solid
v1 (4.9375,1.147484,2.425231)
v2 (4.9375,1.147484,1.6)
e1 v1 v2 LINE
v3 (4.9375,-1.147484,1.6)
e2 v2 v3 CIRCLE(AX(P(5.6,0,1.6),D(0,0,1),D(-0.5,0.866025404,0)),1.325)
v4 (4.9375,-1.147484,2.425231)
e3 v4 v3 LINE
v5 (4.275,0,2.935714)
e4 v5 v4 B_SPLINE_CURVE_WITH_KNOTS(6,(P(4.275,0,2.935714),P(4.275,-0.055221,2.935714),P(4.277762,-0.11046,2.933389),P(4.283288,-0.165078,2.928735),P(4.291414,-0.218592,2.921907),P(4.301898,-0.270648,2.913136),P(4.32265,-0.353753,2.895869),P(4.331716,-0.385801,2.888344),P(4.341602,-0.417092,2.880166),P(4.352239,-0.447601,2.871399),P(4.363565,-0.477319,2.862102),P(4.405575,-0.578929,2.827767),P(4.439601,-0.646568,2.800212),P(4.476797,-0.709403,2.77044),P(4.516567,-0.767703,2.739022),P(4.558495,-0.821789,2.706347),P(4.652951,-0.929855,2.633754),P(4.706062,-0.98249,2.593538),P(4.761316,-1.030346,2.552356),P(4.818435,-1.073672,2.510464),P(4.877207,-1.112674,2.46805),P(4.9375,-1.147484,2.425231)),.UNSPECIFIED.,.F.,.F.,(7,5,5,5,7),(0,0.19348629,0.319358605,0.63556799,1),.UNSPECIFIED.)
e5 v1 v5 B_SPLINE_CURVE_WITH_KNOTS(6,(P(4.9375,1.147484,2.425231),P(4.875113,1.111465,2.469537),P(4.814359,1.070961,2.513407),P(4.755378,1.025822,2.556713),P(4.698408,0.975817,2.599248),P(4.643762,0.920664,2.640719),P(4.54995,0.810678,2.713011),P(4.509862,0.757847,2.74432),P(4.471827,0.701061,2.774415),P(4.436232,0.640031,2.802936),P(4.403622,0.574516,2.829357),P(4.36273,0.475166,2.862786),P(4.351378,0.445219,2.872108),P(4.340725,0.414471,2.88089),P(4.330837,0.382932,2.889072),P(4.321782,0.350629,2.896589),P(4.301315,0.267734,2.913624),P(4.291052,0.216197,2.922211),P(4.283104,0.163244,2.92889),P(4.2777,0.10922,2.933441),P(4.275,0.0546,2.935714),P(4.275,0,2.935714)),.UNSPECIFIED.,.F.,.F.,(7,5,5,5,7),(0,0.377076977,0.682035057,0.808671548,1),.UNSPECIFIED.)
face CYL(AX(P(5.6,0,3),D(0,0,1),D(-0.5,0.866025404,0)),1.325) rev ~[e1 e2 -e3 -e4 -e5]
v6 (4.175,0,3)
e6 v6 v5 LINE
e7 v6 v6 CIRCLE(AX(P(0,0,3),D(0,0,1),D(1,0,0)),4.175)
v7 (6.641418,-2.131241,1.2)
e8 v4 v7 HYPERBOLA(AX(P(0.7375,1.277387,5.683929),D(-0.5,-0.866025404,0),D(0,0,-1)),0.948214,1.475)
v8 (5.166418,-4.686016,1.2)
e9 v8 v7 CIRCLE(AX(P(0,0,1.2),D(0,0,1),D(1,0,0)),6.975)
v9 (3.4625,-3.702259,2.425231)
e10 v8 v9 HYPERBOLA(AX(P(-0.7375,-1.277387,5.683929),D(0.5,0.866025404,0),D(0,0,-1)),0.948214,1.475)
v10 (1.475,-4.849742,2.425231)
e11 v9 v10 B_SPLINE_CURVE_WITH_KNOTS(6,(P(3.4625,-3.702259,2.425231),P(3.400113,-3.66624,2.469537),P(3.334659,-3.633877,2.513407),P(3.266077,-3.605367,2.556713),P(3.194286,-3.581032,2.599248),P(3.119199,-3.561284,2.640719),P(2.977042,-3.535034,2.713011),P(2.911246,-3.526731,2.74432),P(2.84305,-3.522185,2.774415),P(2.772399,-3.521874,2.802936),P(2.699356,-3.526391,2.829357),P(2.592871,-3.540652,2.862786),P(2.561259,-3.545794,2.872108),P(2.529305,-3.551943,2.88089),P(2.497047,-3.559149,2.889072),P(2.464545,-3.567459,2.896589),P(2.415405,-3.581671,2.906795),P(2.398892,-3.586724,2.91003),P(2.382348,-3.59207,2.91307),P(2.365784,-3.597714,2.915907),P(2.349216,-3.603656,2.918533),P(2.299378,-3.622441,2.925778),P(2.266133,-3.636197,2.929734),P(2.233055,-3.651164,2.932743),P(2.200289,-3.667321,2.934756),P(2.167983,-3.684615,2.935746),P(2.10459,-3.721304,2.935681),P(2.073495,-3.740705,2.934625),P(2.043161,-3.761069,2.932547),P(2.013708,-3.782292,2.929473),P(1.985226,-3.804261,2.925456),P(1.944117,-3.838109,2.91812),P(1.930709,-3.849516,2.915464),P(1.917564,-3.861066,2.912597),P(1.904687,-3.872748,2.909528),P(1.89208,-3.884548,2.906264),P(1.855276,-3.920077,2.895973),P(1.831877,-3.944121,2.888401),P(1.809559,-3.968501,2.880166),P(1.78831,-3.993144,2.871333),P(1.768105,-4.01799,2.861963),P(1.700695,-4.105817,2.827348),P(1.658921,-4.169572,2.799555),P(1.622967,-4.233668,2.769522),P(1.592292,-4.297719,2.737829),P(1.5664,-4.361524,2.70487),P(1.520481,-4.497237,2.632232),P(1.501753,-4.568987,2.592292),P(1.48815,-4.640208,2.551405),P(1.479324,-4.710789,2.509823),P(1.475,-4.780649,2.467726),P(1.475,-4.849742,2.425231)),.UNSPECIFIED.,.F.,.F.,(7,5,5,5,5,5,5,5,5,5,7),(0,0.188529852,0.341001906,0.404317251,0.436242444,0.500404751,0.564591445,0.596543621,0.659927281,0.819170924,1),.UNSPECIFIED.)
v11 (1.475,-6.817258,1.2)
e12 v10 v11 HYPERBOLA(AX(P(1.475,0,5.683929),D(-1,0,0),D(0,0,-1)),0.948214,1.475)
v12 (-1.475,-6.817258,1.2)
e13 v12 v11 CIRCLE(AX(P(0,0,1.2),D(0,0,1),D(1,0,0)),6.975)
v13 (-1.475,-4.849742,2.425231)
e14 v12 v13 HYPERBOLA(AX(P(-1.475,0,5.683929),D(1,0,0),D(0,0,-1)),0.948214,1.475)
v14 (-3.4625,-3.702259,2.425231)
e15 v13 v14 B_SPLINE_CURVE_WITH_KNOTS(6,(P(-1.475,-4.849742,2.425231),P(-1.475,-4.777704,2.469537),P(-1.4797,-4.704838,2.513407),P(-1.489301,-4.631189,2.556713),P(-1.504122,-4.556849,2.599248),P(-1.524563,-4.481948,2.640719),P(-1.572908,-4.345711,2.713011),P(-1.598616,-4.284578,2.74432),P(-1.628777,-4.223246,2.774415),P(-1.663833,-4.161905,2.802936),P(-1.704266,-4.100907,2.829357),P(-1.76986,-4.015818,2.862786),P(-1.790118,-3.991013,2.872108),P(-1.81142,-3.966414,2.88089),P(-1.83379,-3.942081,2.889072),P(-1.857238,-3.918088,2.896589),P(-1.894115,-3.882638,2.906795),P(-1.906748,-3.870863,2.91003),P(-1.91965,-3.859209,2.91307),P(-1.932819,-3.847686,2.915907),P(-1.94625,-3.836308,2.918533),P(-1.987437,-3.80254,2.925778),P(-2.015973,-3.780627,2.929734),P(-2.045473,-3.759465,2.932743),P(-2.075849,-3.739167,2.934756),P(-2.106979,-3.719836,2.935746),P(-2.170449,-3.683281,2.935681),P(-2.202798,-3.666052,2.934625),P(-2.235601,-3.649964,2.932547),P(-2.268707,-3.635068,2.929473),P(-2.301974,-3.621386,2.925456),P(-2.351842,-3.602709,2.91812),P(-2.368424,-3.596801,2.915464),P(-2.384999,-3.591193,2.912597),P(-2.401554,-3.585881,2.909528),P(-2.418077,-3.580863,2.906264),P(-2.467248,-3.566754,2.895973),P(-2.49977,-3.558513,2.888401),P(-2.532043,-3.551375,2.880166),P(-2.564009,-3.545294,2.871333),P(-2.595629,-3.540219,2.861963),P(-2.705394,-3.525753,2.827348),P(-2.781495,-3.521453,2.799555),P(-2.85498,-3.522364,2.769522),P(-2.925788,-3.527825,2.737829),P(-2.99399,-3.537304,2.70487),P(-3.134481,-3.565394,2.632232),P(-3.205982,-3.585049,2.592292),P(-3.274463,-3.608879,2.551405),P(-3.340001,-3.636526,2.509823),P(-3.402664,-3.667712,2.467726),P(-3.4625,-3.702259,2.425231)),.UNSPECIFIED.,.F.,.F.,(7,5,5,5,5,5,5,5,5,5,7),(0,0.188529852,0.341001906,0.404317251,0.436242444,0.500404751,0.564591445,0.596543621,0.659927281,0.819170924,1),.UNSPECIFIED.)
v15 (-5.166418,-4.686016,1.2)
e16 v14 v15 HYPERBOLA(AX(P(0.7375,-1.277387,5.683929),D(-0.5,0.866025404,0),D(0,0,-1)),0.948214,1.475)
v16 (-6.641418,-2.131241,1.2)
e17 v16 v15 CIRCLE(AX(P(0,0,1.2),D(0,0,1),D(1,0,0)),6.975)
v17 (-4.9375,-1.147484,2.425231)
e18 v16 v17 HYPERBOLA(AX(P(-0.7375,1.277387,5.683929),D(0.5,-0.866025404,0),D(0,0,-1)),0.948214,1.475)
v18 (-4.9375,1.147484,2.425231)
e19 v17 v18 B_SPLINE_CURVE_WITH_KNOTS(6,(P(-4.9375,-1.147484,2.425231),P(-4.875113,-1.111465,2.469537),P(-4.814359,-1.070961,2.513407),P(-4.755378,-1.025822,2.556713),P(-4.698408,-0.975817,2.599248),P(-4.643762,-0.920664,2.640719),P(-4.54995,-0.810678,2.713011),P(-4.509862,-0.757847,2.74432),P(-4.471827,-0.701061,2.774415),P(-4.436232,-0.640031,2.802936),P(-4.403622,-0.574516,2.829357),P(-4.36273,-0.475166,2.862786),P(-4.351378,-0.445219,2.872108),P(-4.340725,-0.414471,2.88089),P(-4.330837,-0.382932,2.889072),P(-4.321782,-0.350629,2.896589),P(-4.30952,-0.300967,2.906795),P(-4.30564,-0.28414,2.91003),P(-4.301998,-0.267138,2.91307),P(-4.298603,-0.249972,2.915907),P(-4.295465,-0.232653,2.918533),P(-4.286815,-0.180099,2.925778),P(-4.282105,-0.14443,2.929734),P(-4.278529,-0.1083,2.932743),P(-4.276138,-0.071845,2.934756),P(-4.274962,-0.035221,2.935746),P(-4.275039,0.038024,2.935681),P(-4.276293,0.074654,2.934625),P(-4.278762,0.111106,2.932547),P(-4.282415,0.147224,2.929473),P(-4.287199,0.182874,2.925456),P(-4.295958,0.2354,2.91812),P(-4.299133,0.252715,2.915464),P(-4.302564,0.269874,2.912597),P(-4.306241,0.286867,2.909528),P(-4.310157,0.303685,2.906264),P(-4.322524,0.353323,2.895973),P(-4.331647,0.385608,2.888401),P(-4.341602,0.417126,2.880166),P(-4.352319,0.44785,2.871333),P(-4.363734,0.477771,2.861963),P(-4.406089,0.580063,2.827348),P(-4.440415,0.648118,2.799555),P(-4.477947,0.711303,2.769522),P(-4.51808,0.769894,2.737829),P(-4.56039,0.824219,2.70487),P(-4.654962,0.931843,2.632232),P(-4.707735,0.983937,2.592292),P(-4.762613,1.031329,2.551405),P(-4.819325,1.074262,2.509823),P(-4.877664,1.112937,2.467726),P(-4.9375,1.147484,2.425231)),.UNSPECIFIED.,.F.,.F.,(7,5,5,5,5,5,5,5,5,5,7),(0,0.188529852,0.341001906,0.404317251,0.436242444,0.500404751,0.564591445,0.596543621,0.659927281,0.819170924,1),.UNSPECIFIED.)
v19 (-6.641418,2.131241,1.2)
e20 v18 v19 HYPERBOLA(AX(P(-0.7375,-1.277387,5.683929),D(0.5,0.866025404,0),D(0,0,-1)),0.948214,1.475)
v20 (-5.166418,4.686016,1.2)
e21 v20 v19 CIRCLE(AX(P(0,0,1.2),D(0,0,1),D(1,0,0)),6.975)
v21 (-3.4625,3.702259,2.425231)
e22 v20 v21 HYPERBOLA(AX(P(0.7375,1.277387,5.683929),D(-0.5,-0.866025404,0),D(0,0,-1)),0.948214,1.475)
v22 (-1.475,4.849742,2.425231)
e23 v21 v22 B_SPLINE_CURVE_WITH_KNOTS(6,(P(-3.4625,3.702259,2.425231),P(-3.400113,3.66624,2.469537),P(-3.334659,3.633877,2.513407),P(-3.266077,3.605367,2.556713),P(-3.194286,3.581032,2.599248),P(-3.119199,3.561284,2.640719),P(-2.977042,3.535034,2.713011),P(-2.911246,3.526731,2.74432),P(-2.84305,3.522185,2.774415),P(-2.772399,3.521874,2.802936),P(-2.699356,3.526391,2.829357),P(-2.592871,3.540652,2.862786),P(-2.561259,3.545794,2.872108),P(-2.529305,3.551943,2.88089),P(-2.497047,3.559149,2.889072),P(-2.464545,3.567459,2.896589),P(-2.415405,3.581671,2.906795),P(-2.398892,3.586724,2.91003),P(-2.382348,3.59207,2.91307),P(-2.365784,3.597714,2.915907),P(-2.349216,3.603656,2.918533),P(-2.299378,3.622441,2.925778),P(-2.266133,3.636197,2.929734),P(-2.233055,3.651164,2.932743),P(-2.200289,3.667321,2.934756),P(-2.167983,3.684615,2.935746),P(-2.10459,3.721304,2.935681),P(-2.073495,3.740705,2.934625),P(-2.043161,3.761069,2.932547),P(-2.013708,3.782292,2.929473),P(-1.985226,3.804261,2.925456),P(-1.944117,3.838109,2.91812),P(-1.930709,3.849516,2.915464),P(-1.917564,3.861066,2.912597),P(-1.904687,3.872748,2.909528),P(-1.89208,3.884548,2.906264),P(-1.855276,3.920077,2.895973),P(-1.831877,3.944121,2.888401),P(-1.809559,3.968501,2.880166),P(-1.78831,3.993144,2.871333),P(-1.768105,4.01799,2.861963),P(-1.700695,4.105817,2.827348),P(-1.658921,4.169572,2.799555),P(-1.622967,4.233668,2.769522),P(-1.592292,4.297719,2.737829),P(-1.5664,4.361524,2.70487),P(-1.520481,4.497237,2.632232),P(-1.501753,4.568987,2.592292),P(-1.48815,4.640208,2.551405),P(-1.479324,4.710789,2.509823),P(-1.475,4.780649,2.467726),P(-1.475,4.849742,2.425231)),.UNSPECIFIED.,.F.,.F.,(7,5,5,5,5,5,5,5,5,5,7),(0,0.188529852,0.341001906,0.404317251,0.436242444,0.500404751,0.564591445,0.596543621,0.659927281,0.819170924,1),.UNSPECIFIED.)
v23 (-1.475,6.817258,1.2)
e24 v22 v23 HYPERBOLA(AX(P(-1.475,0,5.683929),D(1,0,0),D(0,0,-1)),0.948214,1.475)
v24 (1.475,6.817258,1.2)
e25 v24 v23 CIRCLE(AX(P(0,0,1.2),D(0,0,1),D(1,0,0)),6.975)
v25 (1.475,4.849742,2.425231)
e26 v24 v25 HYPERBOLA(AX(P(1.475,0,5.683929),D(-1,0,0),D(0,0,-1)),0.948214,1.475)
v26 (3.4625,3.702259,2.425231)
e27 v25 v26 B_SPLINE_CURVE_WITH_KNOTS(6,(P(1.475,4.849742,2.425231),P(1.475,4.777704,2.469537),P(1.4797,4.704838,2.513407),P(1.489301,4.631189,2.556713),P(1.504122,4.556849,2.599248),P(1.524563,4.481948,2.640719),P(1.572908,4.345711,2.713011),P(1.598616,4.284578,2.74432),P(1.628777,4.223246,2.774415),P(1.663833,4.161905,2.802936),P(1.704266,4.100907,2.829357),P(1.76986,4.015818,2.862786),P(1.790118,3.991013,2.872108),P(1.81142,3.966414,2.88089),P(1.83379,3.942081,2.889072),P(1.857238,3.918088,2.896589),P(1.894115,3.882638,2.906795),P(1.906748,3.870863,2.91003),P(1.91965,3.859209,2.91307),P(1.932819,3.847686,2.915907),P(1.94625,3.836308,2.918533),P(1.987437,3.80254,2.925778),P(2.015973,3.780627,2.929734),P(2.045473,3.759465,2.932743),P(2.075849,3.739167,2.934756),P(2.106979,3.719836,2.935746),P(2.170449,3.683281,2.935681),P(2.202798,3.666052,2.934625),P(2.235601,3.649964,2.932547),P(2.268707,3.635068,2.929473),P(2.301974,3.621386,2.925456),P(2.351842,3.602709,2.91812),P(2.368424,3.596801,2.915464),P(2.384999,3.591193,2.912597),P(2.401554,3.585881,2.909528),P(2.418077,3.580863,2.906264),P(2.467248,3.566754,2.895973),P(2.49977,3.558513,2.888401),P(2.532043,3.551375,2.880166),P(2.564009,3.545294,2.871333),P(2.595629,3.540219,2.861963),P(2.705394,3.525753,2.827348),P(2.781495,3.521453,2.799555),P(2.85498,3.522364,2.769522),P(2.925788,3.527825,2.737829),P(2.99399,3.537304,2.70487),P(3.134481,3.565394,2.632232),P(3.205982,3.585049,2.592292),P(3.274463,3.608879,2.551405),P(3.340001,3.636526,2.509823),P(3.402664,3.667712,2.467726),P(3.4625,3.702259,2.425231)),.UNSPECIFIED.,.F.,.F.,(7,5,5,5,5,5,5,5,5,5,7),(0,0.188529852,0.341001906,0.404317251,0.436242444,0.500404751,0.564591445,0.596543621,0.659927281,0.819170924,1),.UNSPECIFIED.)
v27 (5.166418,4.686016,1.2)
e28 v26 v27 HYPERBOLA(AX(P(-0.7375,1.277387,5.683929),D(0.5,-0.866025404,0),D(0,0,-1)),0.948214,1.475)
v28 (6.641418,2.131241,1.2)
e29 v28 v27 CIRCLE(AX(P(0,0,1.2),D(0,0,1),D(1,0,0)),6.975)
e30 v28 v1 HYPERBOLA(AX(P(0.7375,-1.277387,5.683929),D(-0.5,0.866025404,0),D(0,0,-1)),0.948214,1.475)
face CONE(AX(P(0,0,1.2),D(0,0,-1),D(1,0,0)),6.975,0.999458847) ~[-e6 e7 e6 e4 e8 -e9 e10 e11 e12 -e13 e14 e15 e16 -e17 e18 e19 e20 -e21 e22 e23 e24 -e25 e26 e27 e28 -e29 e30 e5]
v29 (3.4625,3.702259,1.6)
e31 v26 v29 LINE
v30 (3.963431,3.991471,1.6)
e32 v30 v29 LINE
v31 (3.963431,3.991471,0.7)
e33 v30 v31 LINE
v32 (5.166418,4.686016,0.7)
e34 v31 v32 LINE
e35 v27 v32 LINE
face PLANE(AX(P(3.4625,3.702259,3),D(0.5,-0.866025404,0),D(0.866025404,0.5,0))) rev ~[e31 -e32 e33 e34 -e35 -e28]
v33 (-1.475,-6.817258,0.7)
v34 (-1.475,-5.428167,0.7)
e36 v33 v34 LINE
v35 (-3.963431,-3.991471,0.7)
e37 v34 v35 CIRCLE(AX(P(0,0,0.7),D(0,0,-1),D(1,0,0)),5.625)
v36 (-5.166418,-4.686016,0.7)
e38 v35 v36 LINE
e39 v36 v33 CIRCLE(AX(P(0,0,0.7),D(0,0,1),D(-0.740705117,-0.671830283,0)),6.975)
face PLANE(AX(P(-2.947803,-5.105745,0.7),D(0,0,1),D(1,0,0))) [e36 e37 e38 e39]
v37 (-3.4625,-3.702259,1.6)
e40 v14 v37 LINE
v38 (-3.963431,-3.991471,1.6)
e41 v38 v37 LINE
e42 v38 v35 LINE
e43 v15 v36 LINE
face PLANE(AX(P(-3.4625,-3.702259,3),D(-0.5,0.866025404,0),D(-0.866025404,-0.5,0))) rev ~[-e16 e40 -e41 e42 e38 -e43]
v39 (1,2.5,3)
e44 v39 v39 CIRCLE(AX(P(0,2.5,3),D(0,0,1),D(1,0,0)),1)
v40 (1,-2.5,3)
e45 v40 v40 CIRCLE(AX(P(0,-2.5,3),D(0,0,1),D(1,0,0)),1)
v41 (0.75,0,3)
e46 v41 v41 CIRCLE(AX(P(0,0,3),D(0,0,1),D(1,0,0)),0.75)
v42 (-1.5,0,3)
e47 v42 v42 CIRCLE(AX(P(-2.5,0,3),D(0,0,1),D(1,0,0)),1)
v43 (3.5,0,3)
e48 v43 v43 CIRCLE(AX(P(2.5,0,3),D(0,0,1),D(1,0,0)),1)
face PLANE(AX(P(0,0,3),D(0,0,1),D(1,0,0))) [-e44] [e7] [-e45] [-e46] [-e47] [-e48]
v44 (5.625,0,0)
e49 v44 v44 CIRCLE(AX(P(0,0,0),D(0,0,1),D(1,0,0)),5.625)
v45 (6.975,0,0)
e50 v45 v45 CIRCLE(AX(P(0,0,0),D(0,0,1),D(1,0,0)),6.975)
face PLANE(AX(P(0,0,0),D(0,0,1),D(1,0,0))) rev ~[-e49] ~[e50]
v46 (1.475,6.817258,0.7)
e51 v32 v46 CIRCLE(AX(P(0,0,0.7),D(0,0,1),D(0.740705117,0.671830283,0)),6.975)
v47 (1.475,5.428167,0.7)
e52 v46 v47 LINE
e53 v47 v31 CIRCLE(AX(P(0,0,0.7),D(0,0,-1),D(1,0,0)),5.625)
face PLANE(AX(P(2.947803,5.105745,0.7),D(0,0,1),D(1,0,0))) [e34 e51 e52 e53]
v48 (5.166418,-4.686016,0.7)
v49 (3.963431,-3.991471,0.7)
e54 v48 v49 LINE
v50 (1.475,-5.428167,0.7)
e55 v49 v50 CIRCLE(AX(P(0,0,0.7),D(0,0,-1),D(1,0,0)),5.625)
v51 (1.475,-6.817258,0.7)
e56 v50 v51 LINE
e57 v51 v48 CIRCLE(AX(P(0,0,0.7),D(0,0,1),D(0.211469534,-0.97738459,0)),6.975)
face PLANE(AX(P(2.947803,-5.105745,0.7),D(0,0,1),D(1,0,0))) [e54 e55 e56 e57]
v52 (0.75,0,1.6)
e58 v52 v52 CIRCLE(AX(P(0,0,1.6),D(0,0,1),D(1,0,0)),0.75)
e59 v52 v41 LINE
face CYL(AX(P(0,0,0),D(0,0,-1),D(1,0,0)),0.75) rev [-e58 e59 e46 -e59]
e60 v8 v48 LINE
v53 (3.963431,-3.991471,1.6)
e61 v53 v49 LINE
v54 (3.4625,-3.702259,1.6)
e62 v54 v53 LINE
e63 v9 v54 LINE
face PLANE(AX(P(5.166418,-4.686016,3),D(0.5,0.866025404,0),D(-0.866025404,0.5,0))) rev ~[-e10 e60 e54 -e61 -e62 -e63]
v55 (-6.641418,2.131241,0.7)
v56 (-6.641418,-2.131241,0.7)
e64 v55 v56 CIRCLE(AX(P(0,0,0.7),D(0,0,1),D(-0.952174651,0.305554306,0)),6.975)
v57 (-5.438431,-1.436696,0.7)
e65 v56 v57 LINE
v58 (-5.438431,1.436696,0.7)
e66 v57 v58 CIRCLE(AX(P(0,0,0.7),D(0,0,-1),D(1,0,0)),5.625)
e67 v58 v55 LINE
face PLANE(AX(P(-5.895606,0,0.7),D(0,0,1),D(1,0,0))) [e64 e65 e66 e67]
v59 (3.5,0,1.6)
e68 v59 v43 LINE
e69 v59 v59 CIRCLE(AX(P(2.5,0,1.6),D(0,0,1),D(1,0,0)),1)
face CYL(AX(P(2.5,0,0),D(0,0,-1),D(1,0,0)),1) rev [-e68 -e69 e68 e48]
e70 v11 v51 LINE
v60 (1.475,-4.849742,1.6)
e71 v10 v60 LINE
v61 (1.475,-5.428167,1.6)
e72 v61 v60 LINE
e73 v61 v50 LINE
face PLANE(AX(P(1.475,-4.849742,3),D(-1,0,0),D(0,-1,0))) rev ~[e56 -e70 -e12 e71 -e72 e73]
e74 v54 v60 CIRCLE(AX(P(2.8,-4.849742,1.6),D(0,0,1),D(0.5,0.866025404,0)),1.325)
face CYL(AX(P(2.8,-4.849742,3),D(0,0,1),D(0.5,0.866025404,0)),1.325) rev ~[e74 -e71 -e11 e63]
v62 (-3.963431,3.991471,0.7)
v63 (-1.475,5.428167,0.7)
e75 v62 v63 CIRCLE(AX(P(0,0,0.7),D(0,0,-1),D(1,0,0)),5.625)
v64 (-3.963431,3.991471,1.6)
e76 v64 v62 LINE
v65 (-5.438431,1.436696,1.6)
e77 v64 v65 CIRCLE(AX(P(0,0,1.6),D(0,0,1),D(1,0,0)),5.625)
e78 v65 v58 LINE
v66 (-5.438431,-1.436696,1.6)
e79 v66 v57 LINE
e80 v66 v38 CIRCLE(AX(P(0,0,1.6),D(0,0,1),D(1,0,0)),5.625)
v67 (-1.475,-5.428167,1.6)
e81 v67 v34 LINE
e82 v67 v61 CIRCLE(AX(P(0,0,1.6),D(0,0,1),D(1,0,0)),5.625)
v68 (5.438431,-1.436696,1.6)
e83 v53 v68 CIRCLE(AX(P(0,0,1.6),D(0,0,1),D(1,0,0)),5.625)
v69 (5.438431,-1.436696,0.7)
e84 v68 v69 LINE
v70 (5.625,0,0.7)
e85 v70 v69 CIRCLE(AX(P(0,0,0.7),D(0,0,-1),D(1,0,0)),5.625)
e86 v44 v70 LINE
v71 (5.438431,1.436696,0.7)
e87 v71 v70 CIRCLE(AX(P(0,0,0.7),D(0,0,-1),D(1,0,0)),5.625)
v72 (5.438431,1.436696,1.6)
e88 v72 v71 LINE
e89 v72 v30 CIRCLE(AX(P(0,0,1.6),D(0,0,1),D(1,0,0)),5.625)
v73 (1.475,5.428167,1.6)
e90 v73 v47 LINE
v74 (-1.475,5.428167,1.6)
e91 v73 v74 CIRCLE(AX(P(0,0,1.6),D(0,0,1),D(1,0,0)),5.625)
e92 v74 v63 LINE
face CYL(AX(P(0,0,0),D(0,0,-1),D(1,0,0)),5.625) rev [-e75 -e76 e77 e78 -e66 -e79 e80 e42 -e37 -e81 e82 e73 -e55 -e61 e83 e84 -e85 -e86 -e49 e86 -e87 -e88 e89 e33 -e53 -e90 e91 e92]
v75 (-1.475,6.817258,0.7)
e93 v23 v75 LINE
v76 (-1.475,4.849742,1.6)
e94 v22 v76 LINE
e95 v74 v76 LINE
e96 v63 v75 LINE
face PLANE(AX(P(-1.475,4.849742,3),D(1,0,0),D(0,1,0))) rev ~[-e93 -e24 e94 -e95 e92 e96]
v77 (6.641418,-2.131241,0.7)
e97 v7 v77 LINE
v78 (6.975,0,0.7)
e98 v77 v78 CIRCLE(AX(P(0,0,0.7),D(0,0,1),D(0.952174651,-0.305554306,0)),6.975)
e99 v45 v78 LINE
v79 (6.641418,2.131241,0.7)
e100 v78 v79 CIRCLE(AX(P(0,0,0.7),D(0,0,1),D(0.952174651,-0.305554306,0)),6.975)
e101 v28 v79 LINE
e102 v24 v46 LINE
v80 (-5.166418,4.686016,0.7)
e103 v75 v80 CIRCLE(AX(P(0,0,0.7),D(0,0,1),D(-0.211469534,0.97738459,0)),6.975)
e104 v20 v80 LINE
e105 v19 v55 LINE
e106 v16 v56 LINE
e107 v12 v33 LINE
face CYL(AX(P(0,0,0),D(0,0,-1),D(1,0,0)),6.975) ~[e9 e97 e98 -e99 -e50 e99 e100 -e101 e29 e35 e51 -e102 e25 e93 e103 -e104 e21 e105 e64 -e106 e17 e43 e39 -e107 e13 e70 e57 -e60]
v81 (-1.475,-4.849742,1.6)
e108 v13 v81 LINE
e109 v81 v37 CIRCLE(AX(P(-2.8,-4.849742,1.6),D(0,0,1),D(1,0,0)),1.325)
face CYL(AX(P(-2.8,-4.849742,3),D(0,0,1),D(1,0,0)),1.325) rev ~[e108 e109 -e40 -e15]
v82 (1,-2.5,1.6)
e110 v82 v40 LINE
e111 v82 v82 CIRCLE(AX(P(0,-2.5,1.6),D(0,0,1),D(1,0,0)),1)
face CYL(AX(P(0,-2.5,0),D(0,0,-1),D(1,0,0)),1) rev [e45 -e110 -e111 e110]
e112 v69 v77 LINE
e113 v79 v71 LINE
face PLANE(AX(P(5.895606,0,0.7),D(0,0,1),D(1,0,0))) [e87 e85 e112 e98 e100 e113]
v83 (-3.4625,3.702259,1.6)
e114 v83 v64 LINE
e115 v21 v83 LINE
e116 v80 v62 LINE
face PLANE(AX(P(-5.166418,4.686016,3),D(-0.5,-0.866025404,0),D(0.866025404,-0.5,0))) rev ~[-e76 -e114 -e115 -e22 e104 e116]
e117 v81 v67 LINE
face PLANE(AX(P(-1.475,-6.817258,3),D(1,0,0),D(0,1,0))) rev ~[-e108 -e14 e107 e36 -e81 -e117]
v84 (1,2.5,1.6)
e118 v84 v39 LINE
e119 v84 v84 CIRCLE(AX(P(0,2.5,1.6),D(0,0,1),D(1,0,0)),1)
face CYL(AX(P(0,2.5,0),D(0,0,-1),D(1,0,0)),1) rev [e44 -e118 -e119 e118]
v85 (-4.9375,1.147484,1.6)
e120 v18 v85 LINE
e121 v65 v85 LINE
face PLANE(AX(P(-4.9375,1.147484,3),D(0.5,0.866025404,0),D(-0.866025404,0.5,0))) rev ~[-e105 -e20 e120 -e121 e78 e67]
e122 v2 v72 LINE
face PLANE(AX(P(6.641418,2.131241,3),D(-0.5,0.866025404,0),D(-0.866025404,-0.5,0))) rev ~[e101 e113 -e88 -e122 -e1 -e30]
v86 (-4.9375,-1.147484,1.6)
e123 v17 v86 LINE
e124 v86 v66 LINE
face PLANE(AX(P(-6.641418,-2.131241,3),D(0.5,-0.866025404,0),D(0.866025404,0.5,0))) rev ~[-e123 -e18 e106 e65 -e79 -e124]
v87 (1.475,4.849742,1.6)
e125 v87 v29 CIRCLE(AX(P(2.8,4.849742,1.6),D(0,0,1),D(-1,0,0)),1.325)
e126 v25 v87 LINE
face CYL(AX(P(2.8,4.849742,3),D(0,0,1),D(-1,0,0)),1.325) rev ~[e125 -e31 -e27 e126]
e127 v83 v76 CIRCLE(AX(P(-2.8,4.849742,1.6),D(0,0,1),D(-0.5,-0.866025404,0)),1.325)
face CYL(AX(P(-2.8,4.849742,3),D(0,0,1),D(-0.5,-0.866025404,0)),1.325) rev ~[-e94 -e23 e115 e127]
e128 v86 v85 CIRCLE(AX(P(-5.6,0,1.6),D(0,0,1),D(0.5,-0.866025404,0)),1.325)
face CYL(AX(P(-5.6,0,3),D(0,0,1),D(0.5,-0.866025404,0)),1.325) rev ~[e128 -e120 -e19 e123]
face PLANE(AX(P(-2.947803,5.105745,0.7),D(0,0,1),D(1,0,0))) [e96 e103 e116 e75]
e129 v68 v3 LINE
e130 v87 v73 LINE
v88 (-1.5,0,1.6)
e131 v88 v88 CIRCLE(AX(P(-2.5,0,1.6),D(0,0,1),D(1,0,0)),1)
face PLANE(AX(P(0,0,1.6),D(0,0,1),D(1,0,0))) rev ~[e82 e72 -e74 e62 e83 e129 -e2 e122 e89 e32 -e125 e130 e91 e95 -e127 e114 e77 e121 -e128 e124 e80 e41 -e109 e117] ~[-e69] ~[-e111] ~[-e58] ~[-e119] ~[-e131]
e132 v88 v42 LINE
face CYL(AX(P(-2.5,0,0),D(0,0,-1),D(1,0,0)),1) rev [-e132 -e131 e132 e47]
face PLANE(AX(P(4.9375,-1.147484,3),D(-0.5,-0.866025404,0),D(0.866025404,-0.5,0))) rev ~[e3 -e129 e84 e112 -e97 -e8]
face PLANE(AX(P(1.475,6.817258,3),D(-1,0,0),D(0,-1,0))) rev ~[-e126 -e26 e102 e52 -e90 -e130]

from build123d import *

# Parameters (mm, degrees)
F0_R     = 6.975
F0_R_2   = 5.625
F0_R_3   = 1
F0_R_4   = 0.75
F1_DEPTH = 3
F2_SIZE2 = 1.8
F2_SIZE  = 2.8
F4_DEPTH = 2.3
F5_DEPTH = 1.6


with BuildPart() as f1:
    # F0 (on Top) → F1 (new body)
    with BuildSketch(Plane.XY):
        Circle(F0_R)
        Circle(F0_R_2, mode=Mode.SUBTRACT)
        Circle(F0_R_2)
        with Locations((0, -2.5)):
            Circle(F0_R_3, mode=Mode.SUBTRACT)
        with Locations((-2.5, 0)):
            Circle(F0_R_3, mode=Mode.SUBTRACT)
        Circle(F0_R_4, mode=Mode.SUBTRACT)
        with Locations((2.5, 0)):
            Circle(F0_R_3, mode=Mode.SUBTRACT)
        with Locations((0, 2.5)):
            Circle(F0_R_3, mode=Mode.SUBTRACT)
    extrude(amount=F1_DEPTH)

    # F2
    f2_edges = [f1.edges().sort_by_distance(p)[0] for p in [
        (-6.975, 0, 3),
    ]]
    f2_side = f1.faces().sort_by_distance((-6.777717, 0, 3))[0]
    chamfer(f2_edges, length=F2_SIZE, length2=F2_SIZE2, reference=f2_side)

    # F3 (on face) → F4 (cut, through all)
    with BuildSketch(Plane.XY.offset(3)):
        with BuildLine():
            Line((-1.475, 4.8497422612), (-1.475, 6.8172575131))
            ThreePointArc((-1.475, 6.8172575131), (-3.4875, 6.0405271914), (-5.1664181905, 4.6860162271))
            Line((-5.1664181905, 4.6860162271), (-3.4625, 3.7022586012))
            ThreePointArc((-3.4625, 3.7022586012), (-2.1375, 3.7022586012), (-1.475, 4.8497422612))
        make_face()
        with BuildLine():
            Line((1.475, 6.8172575131), (1.475, 4.8497422612))
            ThreePointArc((1.475, 4.8497422612), (2.1375, 3.7022586012), (3.4625, 3.7022586012))
            Line((3.4625, 3.7022586012), (5.1664181905, 4.6860162271))
            ThreePointArc((5.1664181905, 4.6860162271), (3.4875, 6.0405271914), (1.475, 6.8172575131))
        make_face()
        with BuildLine():
            Line((6.6414181905, 2.131241286), (4.9375, 1.14748366))
            ThreePointArc((4.9375, 1.14748366), (4.275, 0), (4.9375, -1.14748366))
            Line((4.9375, -1.14748366), (6.6414181905, -2.131241286))
            ThreePointArc((6.6414181905, -2.131241286), (6.975, 0), (6.6414181905, 2.131241286))
        make_face()
        with BuildLine():
            Line((5.1664181905, -4.6860162271), (3.4625, -3.7022586012))
            ThreePointArc((3.4625, -3.7022586012), (2.1375, -3.7022586012), (1.475, -4.8497422612))
            Line((1.475, -4.8497422612), (1.475, -6.8172575131))
            ThreePointArc((1.475, -6.8172575131), (3.4875, -6.0405271914), (5.1664181905, -4.6860162271))
        make_face()
        with BuildLine():
            ThreePointArc((-1.475, -4.8497422612), (-2.1375, -3.7022586012), (-3.4625, -3.7022586012))
            Line((-3.4625, -3.7022586012), (-5.1664181905, -4.6860162271))
            ThreePointArc((-5.1664181905, -4.6860162271), (-3.4875, -6.0405271914), (-1.475, -6.8172575131))
            Line((-1.475, -6.8172575131), (-1.475, -4.8497422612))
        make_face()
        with BuildLine():
            ThreePointArc((-4.9375, -1.14748366), (-4.275, 0), (-4.9375, 1.14748366))
            Line((-4.9375, 1.14748366), (-6.6414181905, 2.131241286))
            ThreePointArc((-6.6414181905, 2.131241286), (-6.975, 0), (-6.6414181905, -2.131241286))
            Line((-6.6414181905, -2.131241286), (-4.9375, -1.14748366))
        make_face()
    extrude(amount=-F4_DEPTH, mode=Mode.SUBTRACT)

    # F0 (on Top) → F5 (cut, through all)
    with BuildSketch(Plane.XY):
        Circle(F0_R_2)
        with Locations((0, -2.5)):
            Circle(F0_R_3, mode=Mode.SUBTRACT)
        with Locations((-2.5, 0)):
            Circle(F0_R_3, mode=Mode.SUBTRACT)
        Circle(F0_R_4, mode=Mode.SUBTRACT)
        with Locations((2.5, 0)):
            Circle(F0_R_3, mode=Mode.SUBTRACT)
        with Locations((0, 2.5)):
            Circle(F0_R_3, mode=Mode.SUBTRACT)
    extrude(amount=F5_DEPTH, mode=Mode.SUBTRACT)


solid = f1.part
